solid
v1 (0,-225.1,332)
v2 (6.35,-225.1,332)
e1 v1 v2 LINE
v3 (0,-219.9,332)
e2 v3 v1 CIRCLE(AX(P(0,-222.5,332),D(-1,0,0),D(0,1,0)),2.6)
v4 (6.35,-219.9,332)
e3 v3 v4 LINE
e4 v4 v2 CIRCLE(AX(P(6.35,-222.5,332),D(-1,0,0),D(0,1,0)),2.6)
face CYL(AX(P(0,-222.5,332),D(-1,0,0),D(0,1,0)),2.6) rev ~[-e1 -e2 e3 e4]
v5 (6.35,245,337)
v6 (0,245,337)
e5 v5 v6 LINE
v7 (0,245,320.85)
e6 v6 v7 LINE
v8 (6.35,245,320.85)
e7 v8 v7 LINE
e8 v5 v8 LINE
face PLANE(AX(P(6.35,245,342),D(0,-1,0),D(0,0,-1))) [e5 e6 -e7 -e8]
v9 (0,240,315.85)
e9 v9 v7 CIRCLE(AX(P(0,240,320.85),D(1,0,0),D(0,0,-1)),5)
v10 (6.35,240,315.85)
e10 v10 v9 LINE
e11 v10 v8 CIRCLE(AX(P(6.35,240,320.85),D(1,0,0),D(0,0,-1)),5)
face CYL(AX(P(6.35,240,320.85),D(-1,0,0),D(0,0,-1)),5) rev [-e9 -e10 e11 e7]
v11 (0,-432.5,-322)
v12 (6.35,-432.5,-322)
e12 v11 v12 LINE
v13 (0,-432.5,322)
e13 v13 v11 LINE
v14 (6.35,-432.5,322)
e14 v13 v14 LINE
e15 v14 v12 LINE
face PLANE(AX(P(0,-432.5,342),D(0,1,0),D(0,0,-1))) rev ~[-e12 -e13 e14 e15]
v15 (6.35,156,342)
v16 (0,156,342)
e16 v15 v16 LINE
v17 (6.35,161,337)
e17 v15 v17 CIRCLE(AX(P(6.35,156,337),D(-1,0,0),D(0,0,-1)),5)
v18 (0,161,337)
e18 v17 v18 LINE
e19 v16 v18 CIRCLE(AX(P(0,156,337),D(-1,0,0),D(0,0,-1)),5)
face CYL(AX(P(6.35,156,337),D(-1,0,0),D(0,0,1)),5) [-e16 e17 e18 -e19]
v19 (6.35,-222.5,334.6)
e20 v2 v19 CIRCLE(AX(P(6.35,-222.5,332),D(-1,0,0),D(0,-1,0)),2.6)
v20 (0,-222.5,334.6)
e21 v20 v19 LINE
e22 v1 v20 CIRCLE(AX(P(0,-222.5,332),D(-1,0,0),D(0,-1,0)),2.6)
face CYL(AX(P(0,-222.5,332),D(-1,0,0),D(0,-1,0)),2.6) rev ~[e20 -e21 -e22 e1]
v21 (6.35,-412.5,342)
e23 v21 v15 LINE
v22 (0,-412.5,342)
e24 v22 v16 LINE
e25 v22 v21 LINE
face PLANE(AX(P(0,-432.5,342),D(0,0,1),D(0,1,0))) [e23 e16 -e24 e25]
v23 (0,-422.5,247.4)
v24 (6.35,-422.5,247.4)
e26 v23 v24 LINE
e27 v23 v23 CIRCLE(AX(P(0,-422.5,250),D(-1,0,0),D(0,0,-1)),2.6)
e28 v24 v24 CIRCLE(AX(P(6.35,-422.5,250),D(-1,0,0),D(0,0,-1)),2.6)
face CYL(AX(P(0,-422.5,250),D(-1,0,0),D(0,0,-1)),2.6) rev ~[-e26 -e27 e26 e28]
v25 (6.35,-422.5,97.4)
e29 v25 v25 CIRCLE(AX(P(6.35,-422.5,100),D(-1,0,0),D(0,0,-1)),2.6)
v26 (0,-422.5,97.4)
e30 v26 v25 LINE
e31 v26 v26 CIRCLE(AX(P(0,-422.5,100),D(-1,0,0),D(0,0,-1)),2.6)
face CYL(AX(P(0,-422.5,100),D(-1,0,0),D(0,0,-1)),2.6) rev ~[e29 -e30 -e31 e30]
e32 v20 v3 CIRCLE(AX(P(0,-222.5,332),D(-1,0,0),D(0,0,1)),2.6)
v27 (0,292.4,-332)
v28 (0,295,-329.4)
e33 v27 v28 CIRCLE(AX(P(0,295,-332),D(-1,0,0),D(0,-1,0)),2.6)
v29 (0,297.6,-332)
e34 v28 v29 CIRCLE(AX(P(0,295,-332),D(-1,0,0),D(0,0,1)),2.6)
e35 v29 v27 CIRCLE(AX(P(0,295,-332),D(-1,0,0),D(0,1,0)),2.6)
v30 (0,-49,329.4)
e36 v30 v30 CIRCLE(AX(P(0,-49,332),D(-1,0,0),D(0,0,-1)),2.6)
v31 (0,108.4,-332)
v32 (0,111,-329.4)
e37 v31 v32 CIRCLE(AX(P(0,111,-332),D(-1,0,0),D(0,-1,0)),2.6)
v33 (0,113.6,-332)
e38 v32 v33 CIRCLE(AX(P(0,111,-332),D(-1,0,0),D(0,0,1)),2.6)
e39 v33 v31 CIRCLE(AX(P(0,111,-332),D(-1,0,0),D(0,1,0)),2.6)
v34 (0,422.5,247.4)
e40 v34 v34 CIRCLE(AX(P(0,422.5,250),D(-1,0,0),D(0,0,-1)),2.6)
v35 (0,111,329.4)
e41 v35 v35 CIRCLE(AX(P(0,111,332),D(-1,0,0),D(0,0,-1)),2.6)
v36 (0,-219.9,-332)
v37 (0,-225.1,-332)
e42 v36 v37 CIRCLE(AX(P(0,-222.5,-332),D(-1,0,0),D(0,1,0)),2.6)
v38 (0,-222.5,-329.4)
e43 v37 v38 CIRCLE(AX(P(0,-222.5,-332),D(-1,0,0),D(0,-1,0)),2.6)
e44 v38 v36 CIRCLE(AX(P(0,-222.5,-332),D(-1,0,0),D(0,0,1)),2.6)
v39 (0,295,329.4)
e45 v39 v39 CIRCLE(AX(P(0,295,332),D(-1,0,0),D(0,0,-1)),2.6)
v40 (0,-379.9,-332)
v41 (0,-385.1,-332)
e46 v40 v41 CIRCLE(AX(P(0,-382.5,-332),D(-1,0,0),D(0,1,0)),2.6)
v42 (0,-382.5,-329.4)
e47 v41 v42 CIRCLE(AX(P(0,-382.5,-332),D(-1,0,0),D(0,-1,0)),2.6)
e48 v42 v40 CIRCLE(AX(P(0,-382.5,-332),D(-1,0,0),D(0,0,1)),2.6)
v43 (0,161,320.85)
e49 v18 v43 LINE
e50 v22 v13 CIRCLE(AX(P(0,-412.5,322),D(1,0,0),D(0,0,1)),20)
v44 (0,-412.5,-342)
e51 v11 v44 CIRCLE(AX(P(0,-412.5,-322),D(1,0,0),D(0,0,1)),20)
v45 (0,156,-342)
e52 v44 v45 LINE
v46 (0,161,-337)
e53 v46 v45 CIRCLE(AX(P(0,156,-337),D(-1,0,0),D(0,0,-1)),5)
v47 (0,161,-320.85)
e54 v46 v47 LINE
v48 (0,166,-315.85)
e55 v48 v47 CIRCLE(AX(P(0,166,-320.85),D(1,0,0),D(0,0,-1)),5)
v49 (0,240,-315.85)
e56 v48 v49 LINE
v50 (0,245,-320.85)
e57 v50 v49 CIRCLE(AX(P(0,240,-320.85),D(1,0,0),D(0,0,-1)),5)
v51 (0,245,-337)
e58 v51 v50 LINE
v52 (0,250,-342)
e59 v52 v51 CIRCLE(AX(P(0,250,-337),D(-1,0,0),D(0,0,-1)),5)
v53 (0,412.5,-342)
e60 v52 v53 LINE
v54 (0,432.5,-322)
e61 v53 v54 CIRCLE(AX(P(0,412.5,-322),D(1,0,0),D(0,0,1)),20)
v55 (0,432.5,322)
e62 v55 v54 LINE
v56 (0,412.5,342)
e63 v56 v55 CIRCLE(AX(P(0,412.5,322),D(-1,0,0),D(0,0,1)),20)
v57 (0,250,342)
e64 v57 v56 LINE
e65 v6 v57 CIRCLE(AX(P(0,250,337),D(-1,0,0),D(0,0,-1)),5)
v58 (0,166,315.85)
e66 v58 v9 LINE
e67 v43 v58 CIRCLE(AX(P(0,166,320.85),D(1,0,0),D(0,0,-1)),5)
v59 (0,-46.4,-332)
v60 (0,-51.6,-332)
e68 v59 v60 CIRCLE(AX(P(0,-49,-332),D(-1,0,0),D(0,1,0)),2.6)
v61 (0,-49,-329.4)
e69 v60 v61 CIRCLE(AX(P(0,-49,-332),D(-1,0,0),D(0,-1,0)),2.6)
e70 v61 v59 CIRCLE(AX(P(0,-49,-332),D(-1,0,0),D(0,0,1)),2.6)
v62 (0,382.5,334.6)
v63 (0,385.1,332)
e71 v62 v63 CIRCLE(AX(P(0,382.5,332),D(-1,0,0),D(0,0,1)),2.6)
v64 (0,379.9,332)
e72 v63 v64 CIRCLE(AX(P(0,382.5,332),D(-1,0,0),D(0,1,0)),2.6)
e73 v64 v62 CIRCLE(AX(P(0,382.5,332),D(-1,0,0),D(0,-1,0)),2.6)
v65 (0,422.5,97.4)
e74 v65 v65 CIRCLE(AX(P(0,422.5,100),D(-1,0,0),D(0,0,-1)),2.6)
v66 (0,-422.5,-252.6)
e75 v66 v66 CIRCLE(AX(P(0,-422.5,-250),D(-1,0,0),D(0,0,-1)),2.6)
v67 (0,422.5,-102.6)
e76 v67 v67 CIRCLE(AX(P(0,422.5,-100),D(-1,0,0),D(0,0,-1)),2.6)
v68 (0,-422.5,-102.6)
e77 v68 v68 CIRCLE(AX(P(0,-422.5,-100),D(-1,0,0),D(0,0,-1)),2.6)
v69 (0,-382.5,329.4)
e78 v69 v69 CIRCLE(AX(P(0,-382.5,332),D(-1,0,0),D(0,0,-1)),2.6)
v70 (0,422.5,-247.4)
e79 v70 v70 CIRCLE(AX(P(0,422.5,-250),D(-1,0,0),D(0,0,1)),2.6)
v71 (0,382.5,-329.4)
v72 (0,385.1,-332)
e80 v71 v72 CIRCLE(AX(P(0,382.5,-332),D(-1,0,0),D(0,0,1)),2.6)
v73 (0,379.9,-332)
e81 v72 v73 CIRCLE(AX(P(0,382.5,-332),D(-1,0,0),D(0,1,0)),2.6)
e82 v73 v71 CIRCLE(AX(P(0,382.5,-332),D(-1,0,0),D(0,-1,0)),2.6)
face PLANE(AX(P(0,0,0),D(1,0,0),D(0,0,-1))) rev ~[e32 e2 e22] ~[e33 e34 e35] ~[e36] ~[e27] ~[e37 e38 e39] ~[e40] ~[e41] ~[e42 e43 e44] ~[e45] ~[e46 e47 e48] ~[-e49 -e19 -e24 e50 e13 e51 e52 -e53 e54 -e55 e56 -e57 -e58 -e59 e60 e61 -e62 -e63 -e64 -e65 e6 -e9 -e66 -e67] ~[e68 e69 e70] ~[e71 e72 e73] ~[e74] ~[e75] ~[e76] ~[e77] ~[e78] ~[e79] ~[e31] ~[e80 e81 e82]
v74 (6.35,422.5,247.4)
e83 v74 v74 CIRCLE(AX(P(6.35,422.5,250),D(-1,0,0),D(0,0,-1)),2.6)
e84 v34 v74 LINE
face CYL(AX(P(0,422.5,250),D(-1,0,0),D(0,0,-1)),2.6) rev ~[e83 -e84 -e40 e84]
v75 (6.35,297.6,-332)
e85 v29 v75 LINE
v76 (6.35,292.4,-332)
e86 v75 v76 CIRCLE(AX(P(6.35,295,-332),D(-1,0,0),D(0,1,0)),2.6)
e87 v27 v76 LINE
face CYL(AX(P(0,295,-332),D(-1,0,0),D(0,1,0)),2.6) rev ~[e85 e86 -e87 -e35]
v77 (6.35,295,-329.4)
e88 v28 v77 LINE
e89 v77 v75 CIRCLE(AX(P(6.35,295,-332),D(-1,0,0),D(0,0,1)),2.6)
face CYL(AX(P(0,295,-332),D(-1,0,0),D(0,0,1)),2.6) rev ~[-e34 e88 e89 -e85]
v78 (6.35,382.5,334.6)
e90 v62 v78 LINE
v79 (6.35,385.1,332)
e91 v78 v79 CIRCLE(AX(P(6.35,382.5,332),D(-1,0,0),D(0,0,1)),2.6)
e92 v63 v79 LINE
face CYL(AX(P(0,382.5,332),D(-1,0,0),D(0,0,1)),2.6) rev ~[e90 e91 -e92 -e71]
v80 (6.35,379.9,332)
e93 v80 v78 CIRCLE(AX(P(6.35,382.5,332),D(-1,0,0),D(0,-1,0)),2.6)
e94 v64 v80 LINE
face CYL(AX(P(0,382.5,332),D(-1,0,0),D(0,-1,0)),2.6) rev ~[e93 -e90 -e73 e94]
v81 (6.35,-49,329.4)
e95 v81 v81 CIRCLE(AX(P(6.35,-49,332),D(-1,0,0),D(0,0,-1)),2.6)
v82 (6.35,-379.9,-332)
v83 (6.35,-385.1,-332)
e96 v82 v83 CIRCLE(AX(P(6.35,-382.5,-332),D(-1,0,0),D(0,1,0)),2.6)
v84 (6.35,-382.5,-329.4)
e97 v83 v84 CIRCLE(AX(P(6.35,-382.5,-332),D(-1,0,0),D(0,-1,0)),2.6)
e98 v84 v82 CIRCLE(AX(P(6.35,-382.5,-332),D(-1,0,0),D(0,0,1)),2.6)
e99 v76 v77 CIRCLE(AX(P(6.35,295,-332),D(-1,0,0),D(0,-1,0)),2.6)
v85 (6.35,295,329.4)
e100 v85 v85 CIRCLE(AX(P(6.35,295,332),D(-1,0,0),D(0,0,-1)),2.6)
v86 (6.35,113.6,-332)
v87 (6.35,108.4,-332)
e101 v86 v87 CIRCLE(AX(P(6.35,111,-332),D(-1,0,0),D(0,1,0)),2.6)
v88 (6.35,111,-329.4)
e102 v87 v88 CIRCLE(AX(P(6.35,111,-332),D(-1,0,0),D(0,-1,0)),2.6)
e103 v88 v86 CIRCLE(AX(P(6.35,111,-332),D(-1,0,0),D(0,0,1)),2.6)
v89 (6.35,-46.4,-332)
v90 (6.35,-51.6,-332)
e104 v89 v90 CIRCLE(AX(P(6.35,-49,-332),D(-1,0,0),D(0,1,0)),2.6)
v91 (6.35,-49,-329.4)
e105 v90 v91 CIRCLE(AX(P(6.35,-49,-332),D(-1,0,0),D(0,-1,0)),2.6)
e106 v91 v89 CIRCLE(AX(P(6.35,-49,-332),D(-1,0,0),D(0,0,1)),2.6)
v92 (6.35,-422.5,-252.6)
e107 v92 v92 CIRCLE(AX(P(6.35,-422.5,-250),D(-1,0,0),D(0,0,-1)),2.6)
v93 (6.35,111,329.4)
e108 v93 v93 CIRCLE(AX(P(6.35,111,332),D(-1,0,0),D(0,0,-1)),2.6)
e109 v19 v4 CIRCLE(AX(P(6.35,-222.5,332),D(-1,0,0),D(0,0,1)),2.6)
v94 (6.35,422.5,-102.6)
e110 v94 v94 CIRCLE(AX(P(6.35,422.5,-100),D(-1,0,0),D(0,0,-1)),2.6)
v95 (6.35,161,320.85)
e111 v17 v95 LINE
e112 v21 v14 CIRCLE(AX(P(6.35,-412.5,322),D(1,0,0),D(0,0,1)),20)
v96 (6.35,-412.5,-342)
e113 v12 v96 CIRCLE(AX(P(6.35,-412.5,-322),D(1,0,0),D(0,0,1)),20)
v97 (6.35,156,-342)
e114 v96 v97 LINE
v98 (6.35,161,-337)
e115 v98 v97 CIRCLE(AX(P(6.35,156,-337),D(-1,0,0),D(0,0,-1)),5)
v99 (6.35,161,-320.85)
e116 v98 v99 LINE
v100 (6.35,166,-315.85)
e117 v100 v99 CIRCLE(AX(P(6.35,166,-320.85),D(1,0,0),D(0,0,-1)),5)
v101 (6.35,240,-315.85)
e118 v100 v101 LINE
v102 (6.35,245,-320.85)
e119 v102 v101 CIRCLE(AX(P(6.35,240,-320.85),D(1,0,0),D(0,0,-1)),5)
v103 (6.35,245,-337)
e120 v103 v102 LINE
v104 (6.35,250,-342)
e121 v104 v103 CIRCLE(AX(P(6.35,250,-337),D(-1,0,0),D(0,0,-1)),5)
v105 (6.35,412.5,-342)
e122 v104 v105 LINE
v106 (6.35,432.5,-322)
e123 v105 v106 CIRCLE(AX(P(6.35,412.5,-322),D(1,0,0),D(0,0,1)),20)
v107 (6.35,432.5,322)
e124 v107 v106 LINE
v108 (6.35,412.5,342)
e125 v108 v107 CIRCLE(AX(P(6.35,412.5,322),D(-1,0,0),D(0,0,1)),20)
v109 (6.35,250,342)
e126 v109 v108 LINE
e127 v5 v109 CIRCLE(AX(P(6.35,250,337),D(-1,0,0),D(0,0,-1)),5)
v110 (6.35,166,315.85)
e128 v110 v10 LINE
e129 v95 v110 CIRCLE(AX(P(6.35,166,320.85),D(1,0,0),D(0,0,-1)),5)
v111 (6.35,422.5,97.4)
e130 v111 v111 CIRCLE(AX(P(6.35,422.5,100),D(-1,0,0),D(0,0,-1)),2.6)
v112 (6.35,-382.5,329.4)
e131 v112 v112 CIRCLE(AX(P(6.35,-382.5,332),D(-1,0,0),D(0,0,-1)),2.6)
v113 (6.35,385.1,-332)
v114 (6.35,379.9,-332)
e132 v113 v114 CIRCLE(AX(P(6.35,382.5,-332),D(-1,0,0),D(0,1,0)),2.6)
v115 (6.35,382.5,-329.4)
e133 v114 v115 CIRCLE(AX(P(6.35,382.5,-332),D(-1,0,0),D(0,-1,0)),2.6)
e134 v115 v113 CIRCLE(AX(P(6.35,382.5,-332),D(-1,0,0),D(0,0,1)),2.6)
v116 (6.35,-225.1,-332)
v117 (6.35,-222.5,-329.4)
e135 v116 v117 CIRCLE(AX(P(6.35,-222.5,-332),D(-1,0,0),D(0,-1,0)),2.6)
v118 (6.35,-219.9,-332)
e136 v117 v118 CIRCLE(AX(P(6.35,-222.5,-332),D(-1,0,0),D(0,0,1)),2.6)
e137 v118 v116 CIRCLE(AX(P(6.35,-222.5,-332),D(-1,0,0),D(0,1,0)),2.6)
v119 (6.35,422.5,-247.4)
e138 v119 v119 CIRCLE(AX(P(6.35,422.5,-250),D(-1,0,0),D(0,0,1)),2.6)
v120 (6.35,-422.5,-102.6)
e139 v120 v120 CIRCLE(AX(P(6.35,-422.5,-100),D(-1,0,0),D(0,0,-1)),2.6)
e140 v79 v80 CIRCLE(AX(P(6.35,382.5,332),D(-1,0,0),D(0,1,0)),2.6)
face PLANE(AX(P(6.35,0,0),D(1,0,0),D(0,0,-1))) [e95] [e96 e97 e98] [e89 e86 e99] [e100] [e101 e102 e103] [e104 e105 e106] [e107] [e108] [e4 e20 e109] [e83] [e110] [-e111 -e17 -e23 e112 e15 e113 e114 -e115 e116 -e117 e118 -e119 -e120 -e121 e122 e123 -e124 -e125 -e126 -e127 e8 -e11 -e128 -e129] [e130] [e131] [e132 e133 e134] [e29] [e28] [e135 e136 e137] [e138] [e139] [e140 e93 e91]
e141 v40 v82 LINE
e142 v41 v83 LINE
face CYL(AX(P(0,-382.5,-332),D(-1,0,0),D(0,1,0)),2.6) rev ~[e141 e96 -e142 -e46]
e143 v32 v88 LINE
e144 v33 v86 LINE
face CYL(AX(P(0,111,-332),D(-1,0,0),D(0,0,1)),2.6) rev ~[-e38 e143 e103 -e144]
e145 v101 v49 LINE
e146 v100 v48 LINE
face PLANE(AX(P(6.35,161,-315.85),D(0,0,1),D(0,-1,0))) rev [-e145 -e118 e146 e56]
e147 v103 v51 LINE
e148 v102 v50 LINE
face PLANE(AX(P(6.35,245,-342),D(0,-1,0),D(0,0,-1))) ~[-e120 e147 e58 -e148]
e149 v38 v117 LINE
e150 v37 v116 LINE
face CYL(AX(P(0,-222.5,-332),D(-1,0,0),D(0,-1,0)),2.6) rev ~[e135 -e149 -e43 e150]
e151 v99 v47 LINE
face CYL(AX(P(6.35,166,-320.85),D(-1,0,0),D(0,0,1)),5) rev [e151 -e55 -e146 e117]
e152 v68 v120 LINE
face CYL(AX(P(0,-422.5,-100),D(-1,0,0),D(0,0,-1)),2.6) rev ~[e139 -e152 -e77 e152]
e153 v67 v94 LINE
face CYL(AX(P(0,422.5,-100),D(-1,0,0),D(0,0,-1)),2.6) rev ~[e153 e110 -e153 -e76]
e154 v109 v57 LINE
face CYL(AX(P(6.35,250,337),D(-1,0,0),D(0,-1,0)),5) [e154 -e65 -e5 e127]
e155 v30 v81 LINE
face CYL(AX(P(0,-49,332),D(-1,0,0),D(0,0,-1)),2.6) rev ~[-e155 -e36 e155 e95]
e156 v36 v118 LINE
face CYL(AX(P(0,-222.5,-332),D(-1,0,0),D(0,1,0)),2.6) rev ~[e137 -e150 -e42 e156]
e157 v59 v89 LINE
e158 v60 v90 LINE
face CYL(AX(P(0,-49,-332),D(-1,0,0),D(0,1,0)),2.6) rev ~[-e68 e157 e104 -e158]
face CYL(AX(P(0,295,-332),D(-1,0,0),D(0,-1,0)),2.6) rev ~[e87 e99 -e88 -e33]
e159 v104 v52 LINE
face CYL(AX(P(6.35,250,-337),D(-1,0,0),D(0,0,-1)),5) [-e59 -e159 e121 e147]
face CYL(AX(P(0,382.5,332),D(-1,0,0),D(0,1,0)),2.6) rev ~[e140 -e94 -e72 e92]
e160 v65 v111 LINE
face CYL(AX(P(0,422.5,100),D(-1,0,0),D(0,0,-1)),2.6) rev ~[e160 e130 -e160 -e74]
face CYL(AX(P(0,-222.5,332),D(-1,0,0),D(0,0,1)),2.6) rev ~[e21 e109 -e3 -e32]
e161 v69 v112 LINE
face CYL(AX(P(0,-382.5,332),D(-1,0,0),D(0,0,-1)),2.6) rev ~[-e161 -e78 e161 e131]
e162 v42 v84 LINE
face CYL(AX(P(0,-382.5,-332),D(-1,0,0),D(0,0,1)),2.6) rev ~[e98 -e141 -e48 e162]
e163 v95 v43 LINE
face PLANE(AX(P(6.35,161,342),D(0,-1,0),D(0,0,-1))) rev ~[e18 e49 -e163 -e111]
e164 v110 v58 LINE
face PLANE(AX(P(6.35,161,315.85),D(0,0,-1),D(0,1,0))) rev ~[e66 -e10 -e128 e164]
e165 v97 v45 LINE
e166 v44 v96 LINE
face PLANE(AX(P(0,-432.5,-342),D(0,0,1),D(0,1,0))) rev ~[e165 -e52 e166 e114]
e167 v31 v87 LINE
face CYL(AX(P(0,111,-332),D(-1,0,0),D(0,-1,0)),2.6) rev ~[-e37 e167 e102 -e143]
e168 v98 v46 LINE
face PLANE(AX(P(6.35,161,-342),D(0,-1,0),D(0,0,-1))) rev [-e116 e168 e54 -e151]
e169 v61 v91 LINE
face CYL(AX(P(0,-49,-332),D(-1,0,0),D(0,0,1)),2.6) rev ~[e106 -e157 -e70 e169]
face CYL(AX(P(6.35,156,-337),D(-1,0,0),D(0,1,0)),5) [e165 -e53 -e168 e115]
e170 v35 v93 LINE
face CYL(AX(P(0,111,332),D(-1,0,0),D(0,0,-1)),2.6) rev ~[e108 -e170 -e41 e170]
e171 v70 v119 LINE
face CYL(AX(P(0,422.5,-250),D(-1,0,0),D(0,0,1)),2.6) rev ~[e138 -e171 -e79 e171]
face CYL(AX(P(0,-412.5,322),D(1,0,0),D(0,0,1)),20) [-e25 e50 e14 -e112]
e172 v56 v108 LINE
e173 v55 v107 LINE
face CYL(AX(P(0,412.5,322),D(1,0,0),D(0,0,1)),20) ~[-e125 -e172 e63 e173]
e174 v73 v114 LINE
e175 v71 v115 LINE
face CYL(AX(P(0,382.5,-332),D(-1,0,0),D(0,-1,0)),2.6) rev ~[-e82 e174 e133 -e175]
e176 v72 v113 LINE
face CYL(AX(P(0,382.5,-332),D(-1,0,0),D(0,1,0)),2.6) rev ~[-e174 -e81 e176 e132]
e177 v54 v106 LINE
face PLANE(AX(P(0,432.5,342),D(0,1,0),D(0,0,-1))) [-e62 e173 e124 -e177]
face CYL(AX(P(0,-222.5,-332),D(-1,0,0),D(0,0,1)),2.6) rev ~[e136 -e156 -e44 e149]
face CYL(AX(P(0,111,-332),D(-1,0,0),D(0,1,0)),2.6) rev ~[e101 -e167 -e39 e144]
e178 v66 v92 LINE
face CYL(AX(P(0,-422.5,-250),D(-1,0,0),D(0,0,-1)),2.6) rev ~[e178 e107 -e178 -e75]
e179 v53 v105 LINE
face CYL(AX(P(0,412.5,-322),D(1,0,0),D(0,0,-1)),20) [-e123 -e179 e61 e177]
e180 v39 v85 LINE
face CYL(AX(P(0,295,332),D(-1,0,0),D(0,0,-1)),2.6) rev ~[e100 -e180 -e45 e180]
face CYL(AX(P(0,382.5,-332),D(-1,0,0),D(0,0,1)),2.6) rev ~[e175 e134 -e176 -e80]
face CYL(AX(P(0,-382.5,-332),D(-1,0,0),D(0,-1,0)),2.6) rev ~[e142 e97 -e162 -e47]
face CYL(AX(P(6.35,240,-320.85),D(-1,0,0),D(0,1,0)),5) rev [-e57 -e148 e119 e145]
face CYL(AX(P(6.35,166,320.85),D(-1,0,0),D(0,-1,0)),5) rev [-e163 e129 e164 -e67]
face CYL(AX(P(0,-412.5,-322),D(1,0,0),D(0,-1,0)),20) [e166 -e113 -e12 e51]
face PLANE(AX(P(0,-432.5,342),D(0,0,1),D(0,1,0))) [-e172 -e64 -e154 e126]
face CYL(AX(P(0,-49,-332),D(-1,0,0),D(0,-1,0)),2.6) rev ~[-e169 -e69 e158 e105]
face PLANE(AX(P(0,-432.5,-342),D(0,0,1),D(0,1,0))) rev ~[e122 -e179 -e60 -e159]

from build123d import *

# Parameters (mm, degrees)
SKETCH1_W           = 684
SKETCH1_H           = 865
BOSS_EXTRUDE1_DEPTH = 6.35
FILLET1_R           = 20
SKETCH3_W           = 26.15
SKETCH3_H           = 84
CUT_EXTRUDE2_DEPTH  = 552.416877235
FILLET2_R           = 5
SKETCH4_R           = 2.6
CUT_EXTRUDE3_DEPTH  = 552.416877235


with BuildPart() as part:
    # Sketch1 → Boss-Extrude1 (new body)
    with BuildSketch(Plane(origin=(0, 0, 0), x_dir=(0, 0, -1), z_dir=(1, 0, 0))):
        Rectangle(SKETCH1_W, SKETCH1_H)
    extrude(amount=BOSS_EXTRUDE1_DEPTH)

    # Fillet1
    fillet1_edges = [part.edges().sort_by_distance(p)[0] for p in [
        (3.175, -432.5, -342),
        (3.175, -432.5, 342),
        (3.175, 432.5, 342),
        (3.175, 432.5, -342),
    ]]
    fillet(fillet1_edges, radius=FILLET1_R)

    # Sketch3 → Cut-Extrude2 (cut, through all)
    with BuildSketch(Plane(origin=(6.35, 0, 0), x_dir=(0, 0, -1), z_dir=(1, 0, 0))):
        with Locations((-328.925, 203)):
            Rectangle(SKETCH3_W, SKETCH3_H)
    cut_extrude2 = extrude(amount=-CUT_EXTRUDE2_DEPTH, mode=Mode.SUBTRACT)

    # Mirror1: Cut-Extrude2 across plane
    add(cut_extrude2.mirror(Plane.XY), mode=Mode.SUBTRACT)

    # Fillet2
    fillet2_edges = [part.edges().sort_by_distance(p)[0] for p in [
        (3.175, 161, 342),
        (3.175, 245, 342),
        (3.175, 245, 315.85),
        (3.175, 161, 315.85),
        (3.175, 245, -342),
        (3.175, 161, -342),
        (3.175, 161, -315.85),
        (3.175, 245, -315.85),
    ]]
    fillet(fillet2_edges, radius=FILLET2_R)

    # Sketch4 → Cut-Extrude3 (cut, through all)
    with BuildSketch(Plane.ZY):
        with BuildLine():
            ThreePointArc((-97.4, 422.5), (-100, 425.1), (-102.6, 422.5))
            Line((-102.6, 422.5), (-97.4, 422.5))
        make_face()
        with BuildLine():
            Line((-97.4, 422.5), (-102.6, 422.5))
            ThreePointArc((-102.6, 422.5), (-100, 419.9), (-97.4, 422.5))
        make_face()
        with BuildLine():
            ThreePointArc((102.6, 422.5), (100, 425.1), (97.4, 422.5))
            Line((97.4, 422.5), (102.6, 422.5))
        make_face()
        with BuildLine():
            Line((102.6, 422.5), (97.4, 422.5))
            ThreePointArc((97.4, 422.5), (100, 419.9), (102.6, 422.5))
        make_face()
        with BuildLine():
            ThreePointArc((252.6, 422.5), (250, 425.1), (247.4, 422.5))
            Line((247.4, 422.5), (252.6, 422.5))
        make_face()
        with BuildLine():
            Line((252.6, 422.5), (247.4, 422.5))
            ThreePointArc((247.4, 422.5), (250, 419.9), (252.6, 422.5))
        make_face()
        with BuildLine():
            ThreePointArc((334.6, 382.5), (333.838477631, 384.338477631), (332, 385.1))
            Line((332, 385.1), (332, 379.9))
            ThreePointArc((332, 379.9), (333.838477631, 380.661522369), (334.6, 382.5))
        make_face()
        with BuildLine():
            Line((332, 379.9), (332, 385.1))
            ThreePointArc((332, 385.1), (329.4, 382.5), (332, 379.9))
        make_face()
        with BuildLine():
            ThreePointArc((332, -219.9), (329.4, -222.5), (332, -225.1))
            Line((332, -225.1), (332, -219.9))
        make_face()
        with BuildLine():
            Line((332, -219.9), (332, -225.1))
            ThreePointArc((332, -225.1), (333.838477631, -224.338477631), (334.6, -222.5))
            ThreePointArc((334.6, -222.5), (333.838477631, -220.661522369), (332, -219.9))
        make_face()
        with BuildLine():
            ThreePointArc((-247.4, -422.5), (-250, -419.9), (-252.6, -422.5))
            Line((-252.6, -422.5), (-247.4, -422.5))
        make_face()
        with BuildLine():
            Line((-247.4, -422.5), (-252.6, -422.5))
            ThreePointArc((-252.6, -422.5), (-250, -425.1), (-247.4, -422.5))
        make_face()
        with BuildLine():
            ThreePointArc((-329.4, -382.5), (-330.161522369, -380.661522369), (-332, -379.9))
            Line((-332, -379.9), (-332, -385.1))
            ThreePointArc((-332, -385.1), (-330.161522369, -384.338477631), (-329.4, -382.5))
        make_face()
        with BuildLine():
            Line((-332, -385.1), (-332, -379.9))
            ThreePointArc((-332, -379.9), (-334.6, -382.5), (-332, -385.1))
        make_face()
        with BuildLine():
            ThreePointArc((-329.4, -222.5), (-330.161522369, -220.661522369), (-332, -219.9))
            Line((-332, -219.9), (-332, -225.1))
            ThreePointArc((-332, -225.1), (-330.161522369, -224.338477631), (-329.4, -222.5))
        make_face()
        with BuildLine():
            Line((-332, -225.1), (-332, -219.9))
            ThreePointArc((-332, -219.9), (-334.6, -222.5), (-332, -225.1))
        make_face()
        with BuildLine():
            ThreePointArc((-329.4, -49), (-330.161522369, -47.161522369), (-332, -46.4))
            Line((-332, -46.4), (-332, -51.6))
            ThreePointArc((-332, -51.6), (-330.161522369, -50.838477631), (-329.4, -49))
        make_face()
        with BuildLine():
            Line((-332, -51.6), (-332, -46.4))
            ThreePointArc((-332, -46.4), (-334.6, -49), (-332, -51.6))
        make_face()
        with BuildLine():
            ThreePointArc((-329.4, 111), (-330.161522369, 112.838477631), (-332, 113.6))
            Line((-332, 113.6), (-332, 108.4))
            ThreePointArc((-332, 108.4), (-330.161522369, 109.161522369), (-329.4, 111))
        make_face()
        with BuildLine():
            Line((-332, 108.4), (-332, 113.6))
            ThreePointArc((-332, 113.6), (-334.6, 111), (-332, 108.4))
        make_face()
        with BuildLine():
            ThreePointArc((-332, 297.6), (-334.6, 295), (-332, 292.4))
            Line((-332, 292.4), (-332, 297.6))
        make_face()
        with BuildLine():
            Line((-332, 297.6), (-332, 292.4))
            ThreePointArc((-332, 292.4), (-330.161522369, 293.161522369), (-329.4, 295))
            ThreePointArc((-329.4, 295), (-330.161522369, 296.838477631), (-332, 297.6))
        make_face()
        with BuildLine():
            ThreePointArc((-332, 385.1), (-334.6, 382.5), (-332, 379.9))
            Line((-332, 379.9), (-332, 385.1))
        make_face()
        with BuildLine():
            Line((-332, 385.1), (-332, 379.9))
            ThreePointArc((-332, 379.9), (-330.161522369, 380.661522369), (-329.4, 382.5))
            ThreePointArc((-329.4, 382.5), (-330.161522369, 384.338477631), (-332, 385.1))
        make_face()
        with Locations((-250, 422.5)):
            Circle(SKETCH4_R)
        with Locations(Location((332, 295, 0), (0, 0, 180))):
            Circle(SKETCH4_R)
        with Locations(Location((332, 111, 0), (0, 0, 180))):
            Circle(SKETCH4_R)
        with Locations(Location((332, -49, 0), (0, 0, 180))):
            Circle(SKETCH4_R)
        with Locations(Location((332, -382.5, 0), (0, 0, 180))):
            Circle(SKETCH4_R)
        with Locations(Location((250, -422.5, 0), (0, 0, 180))):
            Circle(SKETCH4_R)
        with Locations(Location((100, -422.5, 0), (0, 0, 180))):
            Circle(SKETCH4_R)
        with Locations(Location((-100, -422.5, 0), (0, 0, 180))):
            Circle(SKETCH4_R)
    extrude(amount=-CUT_EXTRUDE3_DEPTH, mode=Mode.SUBTRACT)


solid = part.part
